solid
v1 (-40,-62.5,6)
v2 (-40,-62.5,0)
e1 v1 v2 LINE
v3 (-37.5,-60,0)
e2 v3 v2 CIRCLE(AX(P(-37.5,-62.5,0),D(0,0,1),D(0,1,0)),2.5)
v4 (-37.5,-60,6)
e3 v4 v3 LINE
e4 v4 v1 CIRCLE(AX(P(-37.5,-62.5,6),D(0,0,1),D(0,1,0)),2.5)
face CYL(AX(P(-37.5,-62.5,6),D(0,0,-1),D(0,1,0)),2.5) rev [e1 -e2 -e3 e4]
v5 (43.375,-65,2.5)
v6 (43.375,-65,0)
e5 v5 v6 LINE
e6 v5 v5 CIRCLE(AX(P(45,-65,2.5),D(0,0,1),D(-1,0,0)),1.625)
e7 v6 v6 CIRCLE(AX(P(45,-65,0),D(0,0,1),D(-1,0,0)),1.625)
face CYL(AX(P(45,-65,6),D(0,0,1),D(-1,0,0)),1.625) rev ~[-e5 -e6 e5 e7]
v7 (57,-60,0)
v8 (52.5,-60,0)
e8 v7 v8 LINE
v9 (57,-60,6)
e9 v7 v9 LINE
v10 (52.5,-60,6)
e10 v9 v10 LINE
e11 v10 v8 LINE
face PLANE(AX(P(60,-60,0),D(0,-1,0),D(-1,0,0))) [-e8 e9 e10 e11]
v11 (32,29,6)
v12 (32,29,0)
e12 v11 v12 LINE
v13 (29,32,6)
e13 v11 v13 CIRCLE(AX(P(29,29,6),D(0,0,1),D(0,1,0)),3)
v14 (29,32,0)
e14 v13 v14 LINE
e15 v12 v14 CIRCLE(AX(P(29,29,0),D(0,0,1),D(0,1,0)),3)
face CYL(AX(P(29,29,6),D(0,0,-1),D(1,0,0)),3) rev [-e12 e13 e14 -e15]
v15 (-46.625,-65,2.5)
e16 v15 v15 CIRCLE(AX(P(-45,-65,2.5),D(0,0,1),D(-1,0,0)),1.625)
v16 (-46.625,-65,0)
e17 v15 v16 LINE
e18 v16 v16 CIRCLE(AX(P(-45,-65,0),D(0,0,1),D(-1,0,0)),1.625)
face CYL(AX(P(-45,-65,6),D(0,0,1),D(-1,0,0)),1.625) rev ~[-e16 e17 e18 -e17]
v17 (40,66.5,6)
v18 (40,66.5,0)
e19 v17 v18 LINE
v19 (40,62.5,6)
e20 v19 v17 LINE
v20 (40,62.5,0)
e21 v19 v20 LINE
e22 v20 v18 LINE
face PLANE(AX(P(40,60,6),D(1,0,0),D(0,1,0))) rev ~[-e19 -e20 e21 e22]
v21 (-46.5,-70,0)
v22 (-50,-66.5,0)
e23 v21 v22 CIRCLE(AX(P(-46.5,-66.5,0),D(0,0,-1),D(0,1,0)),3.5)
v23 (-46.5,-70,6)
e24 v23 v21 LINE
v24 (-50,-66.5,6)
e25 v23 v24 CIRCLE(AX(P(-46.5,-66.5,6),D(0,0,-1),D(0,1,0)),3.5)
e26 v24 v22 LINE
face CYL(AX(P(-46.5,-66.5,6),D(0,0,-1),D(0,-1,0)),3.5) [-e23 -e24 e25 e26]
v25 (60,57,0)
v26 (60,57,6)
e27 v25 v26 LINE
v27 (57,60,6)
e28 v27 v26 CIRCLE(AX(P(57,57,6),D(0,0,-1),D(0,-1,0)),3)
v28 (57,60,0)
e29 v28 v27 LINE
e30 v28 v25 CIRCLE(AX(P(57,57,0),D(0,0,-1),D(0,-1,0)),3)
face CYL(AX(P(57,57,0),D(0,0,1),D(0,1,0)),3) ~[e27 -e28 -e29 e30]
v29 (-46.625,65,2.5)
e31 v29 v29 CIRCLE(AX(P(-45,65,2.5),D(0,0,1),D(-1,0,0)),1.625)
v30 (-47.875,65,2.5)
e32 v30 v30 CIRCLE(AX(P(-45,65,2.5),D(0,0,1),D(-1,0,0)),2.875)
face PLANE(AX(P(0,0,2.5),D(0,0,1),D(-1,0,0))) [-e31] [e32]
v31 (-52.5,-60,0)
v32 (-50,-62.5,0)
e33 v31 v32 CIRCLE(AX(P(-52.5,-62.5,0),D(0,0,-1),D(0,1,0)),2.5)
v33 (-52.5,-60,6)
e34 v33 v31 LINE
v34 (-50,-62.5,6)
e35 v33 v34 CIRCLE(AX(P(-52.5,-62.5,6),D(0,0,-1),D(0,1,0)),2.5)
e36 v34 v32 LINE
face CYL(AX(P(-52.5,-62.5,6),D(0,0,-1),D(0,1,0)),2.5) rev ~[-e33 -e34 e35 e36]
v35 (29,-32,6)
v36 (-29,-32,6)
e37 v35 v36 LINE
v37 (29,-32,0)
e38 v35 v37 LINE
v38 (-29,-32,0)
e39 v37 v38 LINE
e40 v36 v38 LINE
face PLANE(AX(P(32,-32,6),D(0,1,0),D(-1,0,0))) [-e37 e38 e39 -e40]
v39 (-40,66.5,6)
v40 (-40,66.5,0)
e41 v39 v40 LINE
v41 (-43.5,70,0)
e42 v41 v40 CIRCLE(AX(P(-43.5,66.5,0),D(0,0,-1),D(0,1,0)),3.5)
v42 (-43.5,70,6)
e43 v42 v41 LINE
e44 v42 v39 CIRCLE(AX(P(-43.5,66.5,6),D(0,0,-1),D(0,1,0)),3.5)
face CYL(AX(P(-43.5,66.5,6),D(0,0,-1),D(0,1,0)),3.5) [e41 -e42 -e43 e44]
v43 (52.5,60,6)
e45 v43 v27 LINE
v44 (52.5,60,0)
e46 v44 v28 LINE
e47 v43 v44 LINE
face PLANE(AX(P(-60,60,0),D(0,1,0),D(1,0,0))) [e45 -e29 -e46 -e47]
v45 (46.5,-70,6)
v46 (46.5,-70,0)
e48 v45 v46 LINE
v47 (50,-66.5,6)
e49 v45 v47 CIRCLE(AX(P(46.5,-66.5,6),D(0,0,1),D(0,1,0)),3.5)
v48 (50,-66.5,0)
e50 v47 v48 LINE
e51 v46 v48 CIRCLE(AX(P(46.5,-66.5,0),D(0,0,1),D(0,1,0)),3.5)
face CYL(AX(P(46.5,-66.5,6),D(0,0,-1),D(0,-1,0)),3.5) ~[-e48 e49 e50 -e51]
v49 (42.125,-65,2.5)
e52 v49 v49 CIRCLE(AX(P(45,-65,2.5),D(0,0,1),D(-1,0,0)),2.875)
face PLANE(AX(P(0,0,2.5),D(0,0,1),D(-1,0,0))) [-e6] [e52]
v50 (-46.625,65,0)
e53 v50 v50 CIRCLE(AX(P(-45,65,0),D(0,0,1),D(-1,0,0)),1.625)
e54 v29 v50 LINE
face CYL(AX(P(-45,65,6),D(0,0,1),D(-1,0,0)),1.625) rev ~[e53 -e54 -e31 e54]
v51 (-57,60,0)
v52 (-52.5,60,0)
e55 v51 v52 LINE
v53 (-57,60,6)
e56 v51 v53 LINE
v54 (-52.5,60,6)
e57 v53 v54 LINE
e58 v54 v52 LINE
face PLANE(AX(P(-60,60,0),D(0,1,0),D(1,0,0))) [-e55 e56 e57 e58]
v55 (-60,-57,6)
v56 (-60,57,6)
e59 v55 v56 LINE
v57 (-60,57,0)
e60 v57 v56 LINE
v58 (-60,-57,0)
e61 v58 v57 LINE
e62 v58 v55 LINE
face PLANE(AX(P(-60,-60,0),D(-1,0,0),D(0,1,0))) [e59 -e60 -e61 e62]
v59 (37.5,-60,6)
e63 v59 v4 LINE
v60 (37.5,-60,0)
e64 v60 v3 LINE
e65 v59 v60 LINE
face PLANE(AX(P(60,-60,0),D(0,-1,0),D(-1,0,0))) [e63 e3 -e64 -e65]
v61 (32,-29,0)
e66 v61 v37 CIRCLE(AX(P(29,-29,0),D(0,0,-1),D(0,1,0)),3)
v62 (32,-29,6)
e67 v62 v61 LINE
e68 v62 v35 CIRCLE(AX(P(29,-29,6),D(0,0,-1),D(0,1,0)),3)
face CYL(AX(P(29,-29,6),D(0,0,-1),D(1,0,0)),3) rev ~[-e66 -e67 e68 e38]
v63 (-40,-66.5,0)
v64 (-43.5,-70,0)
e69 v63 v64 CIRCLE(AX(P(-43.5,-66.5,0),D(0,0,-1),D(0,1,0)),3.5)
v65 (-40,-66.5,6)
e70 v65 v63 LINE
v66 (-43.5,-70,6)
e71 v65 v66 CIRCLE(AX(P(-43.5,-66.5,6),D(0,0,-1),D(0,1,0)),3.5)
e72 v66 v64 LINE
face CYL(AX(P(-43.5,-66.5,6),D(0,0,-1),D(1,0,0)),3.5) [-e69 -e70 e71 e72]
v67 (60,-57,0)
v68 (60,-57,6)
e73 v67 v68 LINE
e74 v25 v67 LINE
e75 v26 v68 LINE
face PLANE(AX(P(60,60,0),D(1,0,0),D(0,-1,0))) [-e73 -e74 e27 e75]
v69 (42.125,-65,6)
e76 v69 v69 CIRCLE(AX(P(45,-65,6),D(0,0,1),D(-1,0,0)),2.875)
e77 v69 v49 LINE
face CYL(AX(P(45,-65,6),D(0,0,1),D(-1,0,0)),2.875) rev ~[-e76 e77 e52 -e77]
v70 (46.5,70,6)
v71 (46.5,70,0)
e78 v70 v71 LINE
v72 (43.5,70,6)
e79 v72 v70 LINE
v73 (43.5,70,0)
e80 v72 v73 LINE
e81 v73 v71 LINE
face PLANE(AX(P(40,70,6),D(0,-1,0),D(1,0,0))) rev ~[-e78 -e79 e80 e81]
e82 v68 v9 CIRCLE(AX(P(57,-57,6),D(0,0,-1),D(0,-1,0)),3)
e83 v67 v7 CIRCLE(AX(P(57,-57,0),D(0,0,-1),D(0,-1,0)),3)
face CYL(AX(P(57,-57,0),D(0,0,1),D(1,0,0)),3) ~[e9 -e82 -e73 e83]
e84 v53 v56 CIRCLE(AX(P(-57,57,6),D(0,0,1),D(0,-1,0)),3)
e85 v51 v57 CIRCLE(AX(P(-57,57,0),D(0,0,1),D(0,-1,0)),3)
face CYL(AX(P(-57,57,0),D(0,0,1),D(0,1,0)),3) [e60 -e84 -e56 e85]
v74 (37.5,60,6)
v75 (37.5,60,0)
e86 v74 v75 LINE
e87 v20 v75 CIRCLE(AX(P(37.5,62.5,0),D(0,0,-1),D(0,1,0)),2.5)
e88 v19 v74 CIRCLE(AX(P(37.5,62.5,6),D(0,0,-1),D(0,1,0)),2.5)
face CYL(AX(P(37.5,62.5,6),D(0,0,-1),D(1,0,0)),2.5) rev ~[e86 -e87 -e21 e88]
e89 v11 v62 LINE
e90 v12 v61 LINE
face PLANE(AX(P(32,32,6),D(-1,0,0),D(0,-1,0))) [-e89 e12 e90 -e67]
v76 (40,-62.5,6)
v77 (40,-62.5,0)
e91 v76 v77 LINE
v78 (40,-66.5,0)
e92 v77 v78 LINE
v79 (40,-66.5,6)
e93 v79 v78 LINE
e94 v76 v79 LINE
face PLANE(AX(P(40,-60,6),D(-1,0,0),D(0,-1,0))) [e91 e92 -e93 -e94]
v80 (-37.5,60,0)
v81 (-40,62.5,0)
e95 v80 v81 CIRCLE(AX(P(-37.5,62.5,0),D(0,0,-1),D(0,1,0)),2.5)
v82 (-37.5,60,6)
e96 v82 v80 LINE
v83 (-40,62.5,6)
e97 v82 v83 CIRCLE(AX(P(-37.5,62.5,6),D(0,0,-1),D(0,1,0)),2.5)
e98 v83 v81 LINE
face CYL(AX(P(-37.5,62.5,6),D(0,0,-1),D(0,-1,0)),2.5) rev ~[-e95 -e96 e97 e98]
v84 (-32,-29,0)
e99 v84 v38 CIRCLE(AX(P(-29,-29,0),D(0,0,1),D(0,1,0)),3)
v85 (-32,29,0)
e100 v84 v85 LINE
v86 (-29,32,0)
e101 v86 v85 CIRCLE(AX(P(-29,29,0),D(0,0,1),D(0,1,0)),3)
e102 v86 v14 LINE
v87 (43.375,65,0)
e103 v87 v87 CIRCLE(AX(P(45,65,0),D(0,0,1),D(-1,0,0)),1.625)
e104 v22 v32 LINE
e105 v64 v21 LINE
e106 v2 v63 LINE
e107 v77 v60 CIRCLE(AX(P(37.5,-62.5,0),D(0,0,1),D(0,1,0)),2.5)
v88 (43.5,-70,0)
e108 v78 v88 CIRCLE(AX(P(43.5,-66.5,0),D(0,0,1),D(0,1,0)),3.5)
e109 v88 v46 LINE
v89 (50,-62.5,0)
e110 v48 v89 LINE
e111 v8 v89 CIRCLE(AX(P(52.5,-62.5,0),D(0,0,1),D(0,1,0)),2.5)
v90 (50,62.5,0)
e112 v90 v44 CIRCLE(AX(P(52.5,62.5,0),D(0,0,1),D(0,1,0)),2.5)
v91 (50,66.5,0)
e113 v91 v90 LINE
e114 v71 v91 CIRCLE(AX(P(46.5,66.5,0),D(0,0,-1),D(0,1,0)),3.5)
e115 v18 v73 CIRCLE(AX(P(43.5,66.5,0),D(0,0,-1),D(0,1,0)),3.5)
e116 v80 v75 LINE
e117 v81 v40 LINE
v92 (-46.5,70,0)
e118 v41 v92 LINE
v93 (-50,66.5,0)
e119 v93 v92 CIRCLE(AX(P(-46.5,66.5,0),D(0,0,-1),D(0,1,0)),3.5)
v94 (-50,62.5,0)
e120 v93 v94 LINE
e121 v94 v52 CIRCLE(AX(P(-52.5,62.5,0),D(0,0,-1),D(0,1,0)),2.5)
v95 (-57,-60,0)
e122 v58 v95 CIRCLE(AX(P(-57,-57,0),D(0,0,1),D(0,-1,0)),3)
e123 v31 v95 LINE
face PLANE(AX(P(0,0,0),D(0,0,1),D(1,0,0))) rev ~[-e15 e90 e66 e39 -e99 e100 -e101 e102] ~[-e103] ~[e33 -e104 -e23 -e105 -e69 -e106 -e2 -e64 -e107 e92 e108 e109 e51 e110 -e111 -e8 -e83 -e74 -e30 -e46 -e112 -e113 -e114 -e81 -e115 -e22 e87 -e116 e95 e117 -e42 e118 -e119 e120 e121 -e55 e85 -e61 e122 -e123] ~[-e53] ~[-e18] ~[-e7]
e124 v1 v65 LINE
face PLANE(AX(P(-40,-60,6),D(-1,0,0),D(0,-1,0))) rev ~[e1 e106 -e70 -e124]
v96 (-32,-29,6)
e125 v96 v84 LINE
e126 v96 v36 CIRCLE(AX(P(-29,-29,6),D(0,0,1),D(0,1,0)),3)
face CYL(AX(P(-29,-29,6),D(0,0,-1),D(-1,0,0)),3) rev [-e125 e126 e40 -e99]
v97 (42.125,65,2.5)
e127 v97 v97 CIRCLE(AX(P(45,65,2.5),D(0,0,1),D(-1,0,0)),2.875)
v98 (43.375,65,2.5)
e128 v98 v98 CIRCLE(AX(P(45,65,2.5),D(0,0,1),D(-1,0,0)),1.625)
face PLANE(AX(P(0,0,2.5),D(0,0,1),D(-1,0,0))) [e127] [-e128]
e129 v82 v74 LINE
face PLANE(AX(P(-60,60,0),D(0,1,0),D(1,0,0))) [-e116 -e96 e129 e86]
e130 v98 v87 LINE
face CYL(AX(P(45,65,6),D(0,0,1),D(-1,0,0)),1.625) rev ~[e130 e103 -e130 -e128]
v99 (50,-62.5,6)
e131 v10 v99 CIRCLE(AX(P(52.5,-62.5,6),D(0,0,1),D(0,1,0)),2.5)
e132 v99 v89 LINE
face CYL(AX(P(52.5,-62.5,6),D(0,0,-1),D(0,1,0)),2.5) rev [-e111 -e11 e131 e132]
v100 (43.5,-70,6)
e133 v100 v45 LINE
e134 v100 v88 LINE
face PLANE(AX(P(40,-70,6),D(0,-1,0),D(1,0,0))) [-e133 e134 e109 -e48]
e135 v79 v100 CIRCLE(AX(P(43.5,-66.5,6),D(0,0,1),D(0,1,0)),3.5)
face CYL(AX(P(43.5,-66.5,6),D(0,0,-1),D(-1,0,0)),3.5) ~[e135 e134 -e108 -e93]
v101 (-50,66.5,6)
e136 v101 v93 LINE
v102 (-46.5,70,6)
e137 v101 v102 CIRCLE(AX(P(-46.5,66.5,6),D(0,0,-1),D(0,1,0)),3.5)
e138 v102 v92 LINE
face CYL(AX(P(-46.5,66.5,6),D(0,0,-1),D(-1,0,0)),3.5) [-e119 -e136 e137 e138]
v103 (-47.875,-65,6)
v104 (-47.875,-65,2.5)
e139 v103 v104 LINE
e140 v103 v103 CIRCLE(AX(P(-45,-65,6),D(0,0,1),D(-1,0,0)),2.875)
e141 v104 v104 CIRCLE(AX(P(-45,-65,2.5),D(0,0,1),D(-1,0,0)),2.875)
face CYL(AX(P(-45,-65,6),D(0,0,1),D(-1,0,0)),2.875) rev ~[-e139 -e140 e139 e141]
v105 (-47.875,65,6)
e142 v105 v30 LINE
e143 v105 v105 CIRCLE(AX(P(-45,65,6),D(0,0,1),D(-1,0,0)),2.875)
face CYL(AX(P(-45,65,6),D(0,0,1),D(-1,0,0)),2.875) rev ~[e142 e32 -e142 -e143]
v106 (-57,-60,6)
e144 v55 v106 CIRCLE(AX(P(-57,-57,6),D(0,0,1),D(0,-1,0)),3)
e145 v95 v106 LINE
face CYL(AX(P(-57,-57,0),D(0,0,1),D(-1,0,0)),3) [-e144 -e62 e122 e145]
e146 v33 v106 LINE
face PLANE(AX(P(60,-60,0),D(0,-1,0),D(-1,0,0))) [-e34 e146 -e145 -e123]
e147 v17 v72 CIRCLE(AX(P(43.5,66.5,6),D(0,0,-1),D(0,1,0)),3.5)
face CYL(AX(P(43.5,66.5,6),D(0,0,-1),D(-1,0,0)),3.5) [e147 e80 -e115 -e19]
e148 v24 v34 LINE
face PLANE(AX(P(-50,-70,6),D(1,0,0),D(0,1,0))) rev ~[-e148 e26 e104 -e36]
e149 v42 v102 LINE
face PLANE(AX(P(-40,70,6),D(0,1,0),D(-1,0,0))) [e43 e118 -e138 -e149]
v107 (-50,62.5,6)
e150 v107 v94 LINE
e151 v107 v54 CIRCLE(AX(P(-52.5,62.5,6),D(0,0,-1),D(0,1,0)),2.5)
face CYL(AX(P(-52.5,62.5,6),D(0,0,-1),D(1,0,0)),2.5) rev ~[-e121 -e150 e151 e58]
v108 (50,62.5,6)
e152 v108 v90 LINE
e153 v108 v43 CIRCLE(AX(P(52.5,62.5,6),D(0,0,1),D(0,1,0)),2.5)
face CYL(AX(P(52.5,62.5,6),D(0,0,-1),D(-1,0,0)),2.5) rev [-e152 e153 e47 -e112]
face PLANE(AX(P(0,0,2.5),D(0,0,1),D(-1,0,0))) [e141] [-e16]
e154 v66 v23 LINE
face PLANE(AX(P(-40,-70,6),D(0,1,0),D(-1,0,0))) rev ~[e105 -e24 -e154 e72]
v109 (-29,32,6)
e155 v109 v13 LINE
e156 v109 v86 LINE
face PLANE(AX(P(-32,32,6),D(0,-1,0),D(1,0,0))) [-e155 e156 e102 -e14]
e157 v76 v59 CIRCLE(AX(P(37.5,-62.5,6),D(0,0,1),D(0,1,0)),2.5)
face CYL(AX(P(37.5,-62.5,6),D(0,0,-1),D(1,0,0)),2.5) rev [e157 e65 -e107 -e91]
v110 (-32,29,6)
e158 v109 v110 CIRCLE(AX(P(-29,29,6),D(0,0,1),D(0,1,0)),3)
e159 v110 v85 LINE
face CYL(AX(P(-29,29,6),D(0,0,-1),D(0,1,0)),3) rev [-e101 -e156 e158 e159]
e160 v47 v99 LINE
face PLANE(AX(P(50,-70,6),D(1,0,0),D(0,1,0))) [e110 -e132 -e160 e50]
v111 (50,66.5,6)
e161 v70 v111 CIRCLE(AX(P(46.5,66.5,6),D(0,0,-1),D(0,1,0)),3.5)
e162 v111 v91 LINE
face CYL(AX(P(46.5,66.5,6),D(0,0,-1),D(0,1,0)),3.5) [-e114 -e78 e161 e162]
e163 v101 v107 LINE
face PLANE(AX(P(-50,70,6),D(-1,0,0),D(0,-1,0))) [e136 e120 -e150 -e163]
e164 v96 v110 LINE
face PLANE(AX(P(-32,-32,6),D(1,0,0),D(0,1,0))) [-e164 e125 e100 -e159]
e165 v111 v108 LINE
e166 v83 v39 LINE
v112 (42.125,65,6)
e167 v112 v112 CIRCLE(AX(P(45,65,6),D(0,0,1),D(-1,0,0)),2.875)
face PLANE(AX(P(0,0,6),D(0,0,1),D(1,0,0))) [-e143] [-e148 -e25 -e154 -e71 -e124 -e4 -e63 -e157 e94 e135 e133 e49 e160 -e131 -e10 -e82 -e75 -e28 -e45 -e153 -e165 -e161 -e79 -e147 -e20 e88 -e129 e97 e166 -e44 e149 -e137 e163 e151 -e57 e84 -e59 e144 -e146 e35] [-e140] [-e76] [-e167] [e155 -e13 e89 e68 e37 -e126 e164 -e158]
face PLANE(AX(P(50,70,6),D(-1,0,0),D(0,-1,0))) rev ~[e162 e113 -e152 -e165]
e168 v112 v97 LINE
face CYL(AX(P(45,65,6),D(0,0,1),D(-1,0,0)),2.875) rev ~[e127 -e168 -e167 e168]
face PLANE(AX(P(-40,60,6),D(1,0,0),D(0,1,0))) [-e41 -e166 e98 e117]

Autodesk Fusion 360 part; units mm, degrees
sketch "Sketch1" plane through (0, 0, 0) normal (0, 0, 1) x (1, 0, 0)
  line L0 (60, -60) -> (-60, -60)
  line L1 (-60, -60) -> (-60, 60)
  line L2 (-60, 60) -> (60, 60)
  line L3 (60, 60) -> (60, -60)
  line L4 (60, -60) -> (-60, 60) construction
  line L5 (-60, -60) -> (60, 60) construction
  dimension "d4" = 120
  dimension "d5" = 120
extrude "Extrude1" add sketch "Sketch1" along normal blind 6
sketch "Sketch6" plane through (0, 0, 6) normal (0, 0, 1) x (-1, 0, 0)
  line L0 (-60, -60) -> (60, -60)
  line L1 (60, -60) -> (60, 60)
  line L2 (60, 60) -> (-60, 60)
  line L3 (-60, 60) -> (-60, -60)
sketch "Sketch7" plane through (0, 0, 6) normal (0, 0, 1) x (-1, 0, 0)
  line L0 (-60, -60) -> (60, -60)
  line L1 (60, -60) -> (60, 60)
  line L2 (60, 60) -> (-60, 60)
  line L3 (-60, 60) -> (-60, -60)
  line L4 (50, 60) -> (40, 60)
  line L5 (40, 60) -> (40, 70)
  line L6 (40, 70) -> (50, 70)
  line L7 (50, 70) -> (50, 60)
  circle A0 centre (45, 65) radius 1.625
  line L8 (0, -80) -> (0, 80) construction
  line L9 (75, 0) -> (-75, 0) construction
  circle A1 centre (-45, 65) radius 1.625
  line L10 (-50, 60) -> (-40, 60)
  line L11 (-40, 70) -> (-50, 70)
  line L12 (-40, 60) -> (-40, 70)
  line L13 (-50, 70) -> (-50, 60)
  line L14 (40, -70) -> (50, -70)
  line L15 (0, 80) -> (0, -80) construction
  line L16 (-40, -70) -> (-50, -70)
  line L17 (50, -60) -> (40, -60)
  circle A2 centre (-45, -65) radius 1.625
  line L18 (40, -60) -> (40, -70)
  circle A3 centre (45, -65) radius 1.625
  line L19 (50, -70) -> (50, -60)
  line L20 (-40, -60) -> (-40, -70)
  line L21 (-50, -70) -> (-50, -60)
  dimension "d78" = 10
  dimension "d79" = 10
  dimension "d80" = 10
  dimension "d81" = 3.25
  dimension "d83" = 5
  dimension "d84" = 5
extrude "Extrude7" add sketch "Sketch7" against normal up to surface (6 mm away) contours L0 L16 L20 L21 | L2 L10 L11 L12 L13 | L0 L14 L17 L18 L19 | L2 L4 L5 L6 L7
fillet "Fillet1" radius 3.5 2 edges at (-50, -70, 3) (-40, -70, 3)
fillet "Fillet2" radius 3.5 2 edges at (40, -70, 3) (50, -70, 3)
fillet "Fillet3" radius 3.5 2 edges at (-40, 70, 3) (-50, 70, 3)
fillet "Fillet4" radius 3.5 2 edges at (40, 70, 3) (50, 70, 3)
fillet "Fillet5" radius 2.5 8 edges at (50, 60, 3) (40, 60, 3) (-40, 60, 3) (-50, 60, 3) (-50, -60, 3) (50, -60, 3) (-40, -60, 3) (40, -60, 3)
fillet "Fillet6" radius 3 4 edges at (-60, 60, 3) (-60, -60, 3) (60, -60, 3) (60, 60, 3)
sketch "Sketch8" plane through (0, 0, 6) normal (0, 0, 1) x (-1, 0, 0)
  circle A0 centre (45, -65) radius 1.625
  circle A1 centre (45, 65) radius 1.625
  circle A2 centre (-45, -65) radius 1.625
  circle A3 centre (-45, 65) radius 1.625
  arc A4 (-60, -57) -> (-57, -60) centre (-57, -57) ccw
  line L0 (-57, -60) -> (-52.5, -60)
  arc A5 (-50, -62.5) -> (-52.5, -60) centre (-52.5, -62.5) ccw
  line L1 (-50, -62.5) -> (-50, -66.5)
  arc A6 (-50, -66.5) -> (-46.5, -70) centre (-46.5, -66.5) ccw
  line L2 (-46.5, -70) -> (-43.5, -70)
  arc A7 (-43.5, -70) -> (-40, -66.5) centre (-43.5, -66.5) ccw
  line L3 (-40, -66.5) -> (-40, -62.5)
  arc A8 (-37.5, -60) -> (-40, -62.5) centre (-37.5, -62.5) ccw
  line L4 (-37.5, -60) -> (37.5, -60)
  arc A9 (40, -62.5) -> (37.5, -60) centre (37.5, -62.5) ccw
  line L5 (40, -62.5) -> (40, -66.5)
  arc A10 (40, -66.5) -> (43.5, -70) centre (43.5, -66.5) ccw
  line L6 (43.5, -70) -> (46.5, -70)
  arc A11 (46.5, -70) -> (50, -66.5) centre (46.5, -66.5) ccw
  line L7 (50, -66.5) -> (50, -62.5)
  arc A12 (52.5, -60) -> (50, -62.5) centre (52.5, -62.5) ccw
  line L8 (52.5, -60) -> (57, -60)
  arc A13 (57, -60) -> (60, -57) centre (57, -57) ccw
  line L9 (60, -57) -> (60, 57)
  arc A14 (60, 57) -> (57, 60) centre (57, 57) ccw
  line L10 (57, 60) -> (52.5, 60)
  arc A15 (50, 62.5) -> (52.5, 60) centre (52.5, 62.5) ccw
  line L11 (50, 62.5) -> (50, 66.5)
  arc A16 (50, 66.5) -> (46.5, 70) centre (46.5, 66.5) ccw
  line L12 (46.5, 70) -> (43.5, 70)
  arc A17 (43.5, 70) -> (40, 66.5) centre (43.5, 66.5) ccw
  line L13 (40, 66.5) -> (40, 62.5)
  arc A18 (37.5, 60) -> (40, 62.5) centre (37.5, 62.5) ccw
  line L14 (37.5, 60) -> (-37.5, 60)
  arc A19 (-40, 62.5) -> (-37.5, 60) centre (-37.5, 62.5) ccw
  line L15 (-40, 62.5) -> (-40, 66.5)
  arc A20 (-40, 66.5) -> (-43.5, 70) centre (-43.5, 66.5) ccw
  line L16 (-43.5, 70) -> (-46.5, 70)
  arc A21 (-46.5, 70) -> (-50, 66.5) centre (-46.5, 66.5) ccw
  line L17 (-50, 66.5) -> (-50, 62.5)
  arc A22 (-52.5, 60) -> (-50, 62.5) centre (-52.5, 62.5) ccw
  line L18 (-52.5, 60) -> (-57, 60)
  arc A23 (-57, 60) -> (-60, 57) centre (-57, 57) ccw
  line L19 (-60, 57) -> (-60, -57)
  circle A24 centre (45, 65) radius 2.875
  dimension "d98" = 5.75
extrude "Extrude8" cut sketch "Sketch8" against normal blind 3.5 contours A24
sketch "Sketch9" plane through (0, 0, 6) normal (0, 0, 1) x (-1, 0, 0)
  circle A0 centre (45, 65) radius 2.875
  circle A1 centre (45, -65) radius 1.625
  circle A2 centre (-45, -65) radius 1.625
  circle A3 centre (-45, 65) radius 1.625
  arc A4 (-60, -57) -> (-57, -60) centre (-57, -57) ccw
  line L0 (-57, -60) -> (-52.5, -60)
  arc A5 (-50, -62.5) -> (-52.5, -60) centre (-52.5, -62.5) ccw
  line L1 (-50, -62.5) -> (-50, -66.5)
  arc A6 (-50, -66.5) -> (-46.5, -70) centre (-46.5, -66.5) ccw
  line L2 (-46.5, -70) -> (-43.5, -70)
  arc A7 (-43.5, -70) -> (-40, -66.5) centre (-43.5, -66.5) ccw
  line L3 (-40, -66.5) -> (-40, -62.5)
  arc A8 (-37.5, -60) -> (-40, -62.5) centre (-37.5, -62.5) ccw
  line L4 (-37.5, -60) -> (37.5, -60)
  arc A9 (40, -62.5) -> (37.5, -60) centre (37.5, -62.5) ccw
  line L5 (40, -62.5) -> (40, -66.5)
  arc A10 (40, -66.5) -> (43.5, -70) centre (43.5, -66.5) ccw
  line L6 (43.5, -70) -> (46.5, -70)
  arc A11 (46.5, -70) -> (50, -66.5) centre (46.5, -66.5) ccw
  line L7 (50, -66.5) -> (50, -62.5)
  arc A12 (52.5, -60) -> (50, -62.5) centre (52.5, -62.5) ccw
  line L8 (52.5, -60) -> (57, -60)
  arc A13 (57, -60) -> (60, -57) centre (57, -57) ccw
  line L9 (60, -57) -> (60, 57)
  arc A14 (60, 57) -> (57, 60) centre (57, 57) ccw
  line L10 (57, 60) -> (52.5, 60)
  arc A15 (50, 62.5) -> (52.5, 60) centre (52.5, 62.5) ccw
  line L11 (50, 62.5) -> (50, 66.5)
  arc A16 (50, 66.5) -> (46.5, 70) centre (46.5, 66.5) ccw
  line L12 (46.5, 70) -> (43.5, 70)
  arc A17 (43.5, 70) -> (40, 66.5) centre (43.5, 66.5) ccw
  line L13 (40, 66.5) -> (40, 62.5)
  arc A18 (37.5, 60) -> (40, 62.5) centre (37.5, 62.5) ccw
  line L14 (37.5, 60) -> (-37.5, 60)
  arc A19 (-40, 62.5) -> (-37.5, 60) centre (-37.5, 62.5) ccw
  line L15 (-40, 62.5) -> (-40, 66.5)
  arc A20 (-40, 66.5) -> (-43.5, 70) centre (-43.5, 66.5) ccw
  line L16 (-43.5, 70) -> (-46.5, 70)
  arc A21 (-46.5, 70) -> (-50, 66.5) centre (-46.5, 66.5) ccw
  line L17 (-50, 66.5) -> (-50, 62.5)
  arc A22 (-52.5, 60) -> (-50, 62.5) centre (-52.5, 62.5) ccw
  line L18 (-52.5, 60) -> (-57, 60)
  arc A23 (-57, 60) -> (-60, 57) centre (-57, 57) ccw
  line L19 (-60, 57) -> (-60, -57)
  circle A24 centre (-45, 65) radius 2.875
  circle A25 centre (-45, -65) radius 2.875
  circle A26 centre (45, -65) radius 2.875
  dimension "d101" = 5.75
  dimension "d102" = 5.75
  dimension "d103" = 5.75
extrude "Extrude9" cut sketch "Sketch9" against normal blind 3.5 contours A24 | A25 | A26
sketch "Sketch10" plane through (0, 0, 6) normal (0, 0, 1) x (-1, 0, 0)
  circle A0 centre (-45, 65) radius 2.875
  circle A1 centre (-45, -65) radius 2.875
  circle A2 centre (45, -65) radius 2.875
  circle A3 centre (45, 65) radius 2.875
  arc A4 (-60, -57) -> (-57, -60) centre (-57, -57) ccw
  line L0 (-57, -60) -> (-52.5, -60)
  arc A5 (-50, -62.5) -> (-52.5, -60) centre (-52.5, -62.5) ccw
  line L1 (-50, -62.5) -> (-50, -66.5)
  arc A6 (-50, -66.5) -> (-46.5, -70) centre (-46.5, -66.5) ccw
  line L2 (-46.5, -70) -> (-43.5, -70)
  arc A7 (-43.5, -70) -> (-40, -66.5) centre (-43.5, -66.5) ccw
  line L3 (-40, -66.5) -> (-40, -62.5)
  arc A8 (-37.5, -60) -> (-40, -62.5) centre (-37.5, -62.5) ccw
  line L4 (-37.5, -60) -> (37.5, -60)
  arc A9 (40, -62.5) -> (37.5, -60) centre (37.5, -62.5) ccw
  line L5 (40, -62.5) -> (40, -66.5)
  arc A10 (40, -66.5) -> (43.5, -70) centre (43.5, -66.5) ccw
  line L6 (43.5, -70) -> (46.5, -70)
  arc A11 (46.5, -70) -> (50, -66.5) centre (46.5, -66.5) ccw
  line L7 (50, -66.5) -> (50, -62.5)
  arc A12 (52.5, -60) -> (50, -62.5) centre (52.5, -62.5) ccw
  line L8 (52.5, -60) -> (57, -60)
  arc A13 (57, -60) -> (60, -57) centre (57, -57) ccw
  line L9 (60, -57) -> (60, 57)
  arc A14 (60, 57) -> (57, 60) centre (57, 57) ccw
  line L10 (57, 60) -> (52.5, 60)
  arc A15 (50, 62.5) -> (52.5, 60) centre (52.5, 62.5) ccw
  line L11 (50, 62.5) -> (50, 66.5)
  arc A16 (50, 66.5) -> (46.5, 70) centre (46.5, 66.5) ccw
  line L12 (46.5, 70) -> (43.5, 70)
  arc A17 (43.5, 70) -> (40, 66.5) centre (43.5, 66.5) ccw
  line L13 (40, 66.5) -> (40, 62.5)
  arc A18 (37.5, 60) -> (40, 62.5) centre (37.5, 62.5) ccw
  line L14 (37.5, 60) -> (-37.5, 60)
  arc A19 (-40, 62.5) -> (-37.5, 60) centre (-37.5, 62.5) ccw
  line L15 (-40, 62.5) -> (-40, 66.5)
  arc A20 (-40, 66.5) -> (-43.5, 70) centre (-43.5, 66.5) ccw
  line L16 (-43.5, 70) -> (-46.5, 70)
  arc A21 (-46.5, 70) -> (-50, 66.5) centre (-46.5, 66.5) ccw
  line L17 (-50, 66.5) -> (-50, 62.5)
  arc A22 (-52.5, 60) -> (-50, 62.5) centre (-52.5, 62.5) ccw
  line L18 (-52.5, 60) -> (-57, 60)
  arc A23 (-57, 60) -> (-60, 57) centre (-57, 57) ccw
  line L19 (-60, 57) -> (-60, -57)
  line L20 (-32, 32) -> (32, 32)
  line L21 (32, 32) -> (32, -32)
  line L22 (32, -32) -> (-32, -32)
  line L23 (-32, -32) -> (-32, 32)
  line L24 (-32, 32) -> (32, -32) construction
  line L25 (32, 32) -> (-32, -32) construction
  dimension "d108" = 64
  dimension "d109" = 64
extrude "Extrude10" cut sketch "Sketch10" against normal up to surface (6 mm away) contours L20 L21 L22 L23
fillet "Fillet7" radius 3 4 edges at (32, 32, 3) (32, -32, 3) (-32, 32, 3) (-32, -32, 3)
equation "base_width = 120 mm"
equation "base_length = 120 mm"
equation "base_thickness = 6 mm"
equation "d4 = base_width"
equation "d5 = base_length"
equation "d6 = base_thickness"
equation "fan_mount_hole_long_edge_offset = 18 mm"
equation "fan_bottom_mount_hole_head_countersink = 3.5 mm"
equation "fan_bottom_mount_hole_diameter = 3.25 mm"
equation "fan_bottom_mount_hole_head_diameter = 5.75 mm"
equation "fan_bottom_mount_hole_slot_length = 4 mm"
equation "fan_mount_hole_short_edge_offset = 12.5 mm"
equation "pi_mount_width = 65.7 mm"
equation "pi_mount_length = 100.7 mm"
equation "pi_bottom_mount_hole_diameter = 3.25 mm"
equation "pi_bottom_mount_hole_head_countersink = 3.5 mm"
equation "pi_bottom_mount_hole_head_diameter = 5.75 mm"
equation "pi_bottom_mount_hole_slot_length = 8 mm"
equation "switch_width = 100 mm"
equation "switch_length = 98.5 mm"
equation "switch_lateral_support_length = 10 mm"
equation "switch_lateral_support_offset = 0.4 mm"
equation "switch_lateral_support_thickness = 1 mm"
equation "switch_lateral_support_width = 2 mm"
equation "base_bracket_width = 10 mm"
equation "base_bracket_edge_offset = 10 mm"
equation "base_bracket_hole_diameter = 3.25 mm"
equation "base_bracket_length = 10 mm"
equation "base_bracket_hole_edge_offset = 5 mm"
equation "d78 = base_bracket_width"
equation "d79 = base_bracket_length"
equation "d80 = base_bracket_edge_offset"
equation "d81 = base_bracket_hole_diameter"
equation "base_bracket_length_edge_offset = 5 mm"
equation "d83 = base_bracket_length_edge_offset"
equation "d84 = base_bracket_width / 2"
equation "base_bracket_outer_fillet = 3.5 mm"
equation "base_bracket_inner_fillet = 2.5 mm"
equation "d89 = base_bracket_outer_fillet"
equation "d90 = base_bracket_outer_fillet"
equation "d91 = base_bracket_outer_fillet"
equation "d92 = base_bracket_outer_fillet"
equation "d93 = base_bracket_inner_fillet"
equation "base_edge_fillet = 3 mm"
equation "d95 = base_edge_fillet"
equation "base_bracket_bottom_mount_hole_head_countersink = 3.5 mm"
equation "base_bracket_bottom_mount_hole_head_diameter = 5.75 mm"
equation "d98 = base_bracket_bottom_mount_hole_head_diameter"
equation "d99 = -base_bracket_bottom_mount_hole_head_countersink"
equation "d101 = base_bracket_bottom_mount_hole_head_diameter"
equation "d102 = base_bracket_bottom_mount_hole_head_diameter"
equation "d103 = base_bracket_bottom_mount_hole_head_diameter"
equation "d104 = -base_bracket_bottom_mount_hole_head_countersink"
equation "internal_hole_width = 64 mm"
equation "internal_hole_length = 64 mm"
equation "d108 = internal_hole_width"
equation "d109 = internal_hole_length"
equation "internal_hole_fillet = 3 mm"
equation "d113 = internal_hole_fillet"
